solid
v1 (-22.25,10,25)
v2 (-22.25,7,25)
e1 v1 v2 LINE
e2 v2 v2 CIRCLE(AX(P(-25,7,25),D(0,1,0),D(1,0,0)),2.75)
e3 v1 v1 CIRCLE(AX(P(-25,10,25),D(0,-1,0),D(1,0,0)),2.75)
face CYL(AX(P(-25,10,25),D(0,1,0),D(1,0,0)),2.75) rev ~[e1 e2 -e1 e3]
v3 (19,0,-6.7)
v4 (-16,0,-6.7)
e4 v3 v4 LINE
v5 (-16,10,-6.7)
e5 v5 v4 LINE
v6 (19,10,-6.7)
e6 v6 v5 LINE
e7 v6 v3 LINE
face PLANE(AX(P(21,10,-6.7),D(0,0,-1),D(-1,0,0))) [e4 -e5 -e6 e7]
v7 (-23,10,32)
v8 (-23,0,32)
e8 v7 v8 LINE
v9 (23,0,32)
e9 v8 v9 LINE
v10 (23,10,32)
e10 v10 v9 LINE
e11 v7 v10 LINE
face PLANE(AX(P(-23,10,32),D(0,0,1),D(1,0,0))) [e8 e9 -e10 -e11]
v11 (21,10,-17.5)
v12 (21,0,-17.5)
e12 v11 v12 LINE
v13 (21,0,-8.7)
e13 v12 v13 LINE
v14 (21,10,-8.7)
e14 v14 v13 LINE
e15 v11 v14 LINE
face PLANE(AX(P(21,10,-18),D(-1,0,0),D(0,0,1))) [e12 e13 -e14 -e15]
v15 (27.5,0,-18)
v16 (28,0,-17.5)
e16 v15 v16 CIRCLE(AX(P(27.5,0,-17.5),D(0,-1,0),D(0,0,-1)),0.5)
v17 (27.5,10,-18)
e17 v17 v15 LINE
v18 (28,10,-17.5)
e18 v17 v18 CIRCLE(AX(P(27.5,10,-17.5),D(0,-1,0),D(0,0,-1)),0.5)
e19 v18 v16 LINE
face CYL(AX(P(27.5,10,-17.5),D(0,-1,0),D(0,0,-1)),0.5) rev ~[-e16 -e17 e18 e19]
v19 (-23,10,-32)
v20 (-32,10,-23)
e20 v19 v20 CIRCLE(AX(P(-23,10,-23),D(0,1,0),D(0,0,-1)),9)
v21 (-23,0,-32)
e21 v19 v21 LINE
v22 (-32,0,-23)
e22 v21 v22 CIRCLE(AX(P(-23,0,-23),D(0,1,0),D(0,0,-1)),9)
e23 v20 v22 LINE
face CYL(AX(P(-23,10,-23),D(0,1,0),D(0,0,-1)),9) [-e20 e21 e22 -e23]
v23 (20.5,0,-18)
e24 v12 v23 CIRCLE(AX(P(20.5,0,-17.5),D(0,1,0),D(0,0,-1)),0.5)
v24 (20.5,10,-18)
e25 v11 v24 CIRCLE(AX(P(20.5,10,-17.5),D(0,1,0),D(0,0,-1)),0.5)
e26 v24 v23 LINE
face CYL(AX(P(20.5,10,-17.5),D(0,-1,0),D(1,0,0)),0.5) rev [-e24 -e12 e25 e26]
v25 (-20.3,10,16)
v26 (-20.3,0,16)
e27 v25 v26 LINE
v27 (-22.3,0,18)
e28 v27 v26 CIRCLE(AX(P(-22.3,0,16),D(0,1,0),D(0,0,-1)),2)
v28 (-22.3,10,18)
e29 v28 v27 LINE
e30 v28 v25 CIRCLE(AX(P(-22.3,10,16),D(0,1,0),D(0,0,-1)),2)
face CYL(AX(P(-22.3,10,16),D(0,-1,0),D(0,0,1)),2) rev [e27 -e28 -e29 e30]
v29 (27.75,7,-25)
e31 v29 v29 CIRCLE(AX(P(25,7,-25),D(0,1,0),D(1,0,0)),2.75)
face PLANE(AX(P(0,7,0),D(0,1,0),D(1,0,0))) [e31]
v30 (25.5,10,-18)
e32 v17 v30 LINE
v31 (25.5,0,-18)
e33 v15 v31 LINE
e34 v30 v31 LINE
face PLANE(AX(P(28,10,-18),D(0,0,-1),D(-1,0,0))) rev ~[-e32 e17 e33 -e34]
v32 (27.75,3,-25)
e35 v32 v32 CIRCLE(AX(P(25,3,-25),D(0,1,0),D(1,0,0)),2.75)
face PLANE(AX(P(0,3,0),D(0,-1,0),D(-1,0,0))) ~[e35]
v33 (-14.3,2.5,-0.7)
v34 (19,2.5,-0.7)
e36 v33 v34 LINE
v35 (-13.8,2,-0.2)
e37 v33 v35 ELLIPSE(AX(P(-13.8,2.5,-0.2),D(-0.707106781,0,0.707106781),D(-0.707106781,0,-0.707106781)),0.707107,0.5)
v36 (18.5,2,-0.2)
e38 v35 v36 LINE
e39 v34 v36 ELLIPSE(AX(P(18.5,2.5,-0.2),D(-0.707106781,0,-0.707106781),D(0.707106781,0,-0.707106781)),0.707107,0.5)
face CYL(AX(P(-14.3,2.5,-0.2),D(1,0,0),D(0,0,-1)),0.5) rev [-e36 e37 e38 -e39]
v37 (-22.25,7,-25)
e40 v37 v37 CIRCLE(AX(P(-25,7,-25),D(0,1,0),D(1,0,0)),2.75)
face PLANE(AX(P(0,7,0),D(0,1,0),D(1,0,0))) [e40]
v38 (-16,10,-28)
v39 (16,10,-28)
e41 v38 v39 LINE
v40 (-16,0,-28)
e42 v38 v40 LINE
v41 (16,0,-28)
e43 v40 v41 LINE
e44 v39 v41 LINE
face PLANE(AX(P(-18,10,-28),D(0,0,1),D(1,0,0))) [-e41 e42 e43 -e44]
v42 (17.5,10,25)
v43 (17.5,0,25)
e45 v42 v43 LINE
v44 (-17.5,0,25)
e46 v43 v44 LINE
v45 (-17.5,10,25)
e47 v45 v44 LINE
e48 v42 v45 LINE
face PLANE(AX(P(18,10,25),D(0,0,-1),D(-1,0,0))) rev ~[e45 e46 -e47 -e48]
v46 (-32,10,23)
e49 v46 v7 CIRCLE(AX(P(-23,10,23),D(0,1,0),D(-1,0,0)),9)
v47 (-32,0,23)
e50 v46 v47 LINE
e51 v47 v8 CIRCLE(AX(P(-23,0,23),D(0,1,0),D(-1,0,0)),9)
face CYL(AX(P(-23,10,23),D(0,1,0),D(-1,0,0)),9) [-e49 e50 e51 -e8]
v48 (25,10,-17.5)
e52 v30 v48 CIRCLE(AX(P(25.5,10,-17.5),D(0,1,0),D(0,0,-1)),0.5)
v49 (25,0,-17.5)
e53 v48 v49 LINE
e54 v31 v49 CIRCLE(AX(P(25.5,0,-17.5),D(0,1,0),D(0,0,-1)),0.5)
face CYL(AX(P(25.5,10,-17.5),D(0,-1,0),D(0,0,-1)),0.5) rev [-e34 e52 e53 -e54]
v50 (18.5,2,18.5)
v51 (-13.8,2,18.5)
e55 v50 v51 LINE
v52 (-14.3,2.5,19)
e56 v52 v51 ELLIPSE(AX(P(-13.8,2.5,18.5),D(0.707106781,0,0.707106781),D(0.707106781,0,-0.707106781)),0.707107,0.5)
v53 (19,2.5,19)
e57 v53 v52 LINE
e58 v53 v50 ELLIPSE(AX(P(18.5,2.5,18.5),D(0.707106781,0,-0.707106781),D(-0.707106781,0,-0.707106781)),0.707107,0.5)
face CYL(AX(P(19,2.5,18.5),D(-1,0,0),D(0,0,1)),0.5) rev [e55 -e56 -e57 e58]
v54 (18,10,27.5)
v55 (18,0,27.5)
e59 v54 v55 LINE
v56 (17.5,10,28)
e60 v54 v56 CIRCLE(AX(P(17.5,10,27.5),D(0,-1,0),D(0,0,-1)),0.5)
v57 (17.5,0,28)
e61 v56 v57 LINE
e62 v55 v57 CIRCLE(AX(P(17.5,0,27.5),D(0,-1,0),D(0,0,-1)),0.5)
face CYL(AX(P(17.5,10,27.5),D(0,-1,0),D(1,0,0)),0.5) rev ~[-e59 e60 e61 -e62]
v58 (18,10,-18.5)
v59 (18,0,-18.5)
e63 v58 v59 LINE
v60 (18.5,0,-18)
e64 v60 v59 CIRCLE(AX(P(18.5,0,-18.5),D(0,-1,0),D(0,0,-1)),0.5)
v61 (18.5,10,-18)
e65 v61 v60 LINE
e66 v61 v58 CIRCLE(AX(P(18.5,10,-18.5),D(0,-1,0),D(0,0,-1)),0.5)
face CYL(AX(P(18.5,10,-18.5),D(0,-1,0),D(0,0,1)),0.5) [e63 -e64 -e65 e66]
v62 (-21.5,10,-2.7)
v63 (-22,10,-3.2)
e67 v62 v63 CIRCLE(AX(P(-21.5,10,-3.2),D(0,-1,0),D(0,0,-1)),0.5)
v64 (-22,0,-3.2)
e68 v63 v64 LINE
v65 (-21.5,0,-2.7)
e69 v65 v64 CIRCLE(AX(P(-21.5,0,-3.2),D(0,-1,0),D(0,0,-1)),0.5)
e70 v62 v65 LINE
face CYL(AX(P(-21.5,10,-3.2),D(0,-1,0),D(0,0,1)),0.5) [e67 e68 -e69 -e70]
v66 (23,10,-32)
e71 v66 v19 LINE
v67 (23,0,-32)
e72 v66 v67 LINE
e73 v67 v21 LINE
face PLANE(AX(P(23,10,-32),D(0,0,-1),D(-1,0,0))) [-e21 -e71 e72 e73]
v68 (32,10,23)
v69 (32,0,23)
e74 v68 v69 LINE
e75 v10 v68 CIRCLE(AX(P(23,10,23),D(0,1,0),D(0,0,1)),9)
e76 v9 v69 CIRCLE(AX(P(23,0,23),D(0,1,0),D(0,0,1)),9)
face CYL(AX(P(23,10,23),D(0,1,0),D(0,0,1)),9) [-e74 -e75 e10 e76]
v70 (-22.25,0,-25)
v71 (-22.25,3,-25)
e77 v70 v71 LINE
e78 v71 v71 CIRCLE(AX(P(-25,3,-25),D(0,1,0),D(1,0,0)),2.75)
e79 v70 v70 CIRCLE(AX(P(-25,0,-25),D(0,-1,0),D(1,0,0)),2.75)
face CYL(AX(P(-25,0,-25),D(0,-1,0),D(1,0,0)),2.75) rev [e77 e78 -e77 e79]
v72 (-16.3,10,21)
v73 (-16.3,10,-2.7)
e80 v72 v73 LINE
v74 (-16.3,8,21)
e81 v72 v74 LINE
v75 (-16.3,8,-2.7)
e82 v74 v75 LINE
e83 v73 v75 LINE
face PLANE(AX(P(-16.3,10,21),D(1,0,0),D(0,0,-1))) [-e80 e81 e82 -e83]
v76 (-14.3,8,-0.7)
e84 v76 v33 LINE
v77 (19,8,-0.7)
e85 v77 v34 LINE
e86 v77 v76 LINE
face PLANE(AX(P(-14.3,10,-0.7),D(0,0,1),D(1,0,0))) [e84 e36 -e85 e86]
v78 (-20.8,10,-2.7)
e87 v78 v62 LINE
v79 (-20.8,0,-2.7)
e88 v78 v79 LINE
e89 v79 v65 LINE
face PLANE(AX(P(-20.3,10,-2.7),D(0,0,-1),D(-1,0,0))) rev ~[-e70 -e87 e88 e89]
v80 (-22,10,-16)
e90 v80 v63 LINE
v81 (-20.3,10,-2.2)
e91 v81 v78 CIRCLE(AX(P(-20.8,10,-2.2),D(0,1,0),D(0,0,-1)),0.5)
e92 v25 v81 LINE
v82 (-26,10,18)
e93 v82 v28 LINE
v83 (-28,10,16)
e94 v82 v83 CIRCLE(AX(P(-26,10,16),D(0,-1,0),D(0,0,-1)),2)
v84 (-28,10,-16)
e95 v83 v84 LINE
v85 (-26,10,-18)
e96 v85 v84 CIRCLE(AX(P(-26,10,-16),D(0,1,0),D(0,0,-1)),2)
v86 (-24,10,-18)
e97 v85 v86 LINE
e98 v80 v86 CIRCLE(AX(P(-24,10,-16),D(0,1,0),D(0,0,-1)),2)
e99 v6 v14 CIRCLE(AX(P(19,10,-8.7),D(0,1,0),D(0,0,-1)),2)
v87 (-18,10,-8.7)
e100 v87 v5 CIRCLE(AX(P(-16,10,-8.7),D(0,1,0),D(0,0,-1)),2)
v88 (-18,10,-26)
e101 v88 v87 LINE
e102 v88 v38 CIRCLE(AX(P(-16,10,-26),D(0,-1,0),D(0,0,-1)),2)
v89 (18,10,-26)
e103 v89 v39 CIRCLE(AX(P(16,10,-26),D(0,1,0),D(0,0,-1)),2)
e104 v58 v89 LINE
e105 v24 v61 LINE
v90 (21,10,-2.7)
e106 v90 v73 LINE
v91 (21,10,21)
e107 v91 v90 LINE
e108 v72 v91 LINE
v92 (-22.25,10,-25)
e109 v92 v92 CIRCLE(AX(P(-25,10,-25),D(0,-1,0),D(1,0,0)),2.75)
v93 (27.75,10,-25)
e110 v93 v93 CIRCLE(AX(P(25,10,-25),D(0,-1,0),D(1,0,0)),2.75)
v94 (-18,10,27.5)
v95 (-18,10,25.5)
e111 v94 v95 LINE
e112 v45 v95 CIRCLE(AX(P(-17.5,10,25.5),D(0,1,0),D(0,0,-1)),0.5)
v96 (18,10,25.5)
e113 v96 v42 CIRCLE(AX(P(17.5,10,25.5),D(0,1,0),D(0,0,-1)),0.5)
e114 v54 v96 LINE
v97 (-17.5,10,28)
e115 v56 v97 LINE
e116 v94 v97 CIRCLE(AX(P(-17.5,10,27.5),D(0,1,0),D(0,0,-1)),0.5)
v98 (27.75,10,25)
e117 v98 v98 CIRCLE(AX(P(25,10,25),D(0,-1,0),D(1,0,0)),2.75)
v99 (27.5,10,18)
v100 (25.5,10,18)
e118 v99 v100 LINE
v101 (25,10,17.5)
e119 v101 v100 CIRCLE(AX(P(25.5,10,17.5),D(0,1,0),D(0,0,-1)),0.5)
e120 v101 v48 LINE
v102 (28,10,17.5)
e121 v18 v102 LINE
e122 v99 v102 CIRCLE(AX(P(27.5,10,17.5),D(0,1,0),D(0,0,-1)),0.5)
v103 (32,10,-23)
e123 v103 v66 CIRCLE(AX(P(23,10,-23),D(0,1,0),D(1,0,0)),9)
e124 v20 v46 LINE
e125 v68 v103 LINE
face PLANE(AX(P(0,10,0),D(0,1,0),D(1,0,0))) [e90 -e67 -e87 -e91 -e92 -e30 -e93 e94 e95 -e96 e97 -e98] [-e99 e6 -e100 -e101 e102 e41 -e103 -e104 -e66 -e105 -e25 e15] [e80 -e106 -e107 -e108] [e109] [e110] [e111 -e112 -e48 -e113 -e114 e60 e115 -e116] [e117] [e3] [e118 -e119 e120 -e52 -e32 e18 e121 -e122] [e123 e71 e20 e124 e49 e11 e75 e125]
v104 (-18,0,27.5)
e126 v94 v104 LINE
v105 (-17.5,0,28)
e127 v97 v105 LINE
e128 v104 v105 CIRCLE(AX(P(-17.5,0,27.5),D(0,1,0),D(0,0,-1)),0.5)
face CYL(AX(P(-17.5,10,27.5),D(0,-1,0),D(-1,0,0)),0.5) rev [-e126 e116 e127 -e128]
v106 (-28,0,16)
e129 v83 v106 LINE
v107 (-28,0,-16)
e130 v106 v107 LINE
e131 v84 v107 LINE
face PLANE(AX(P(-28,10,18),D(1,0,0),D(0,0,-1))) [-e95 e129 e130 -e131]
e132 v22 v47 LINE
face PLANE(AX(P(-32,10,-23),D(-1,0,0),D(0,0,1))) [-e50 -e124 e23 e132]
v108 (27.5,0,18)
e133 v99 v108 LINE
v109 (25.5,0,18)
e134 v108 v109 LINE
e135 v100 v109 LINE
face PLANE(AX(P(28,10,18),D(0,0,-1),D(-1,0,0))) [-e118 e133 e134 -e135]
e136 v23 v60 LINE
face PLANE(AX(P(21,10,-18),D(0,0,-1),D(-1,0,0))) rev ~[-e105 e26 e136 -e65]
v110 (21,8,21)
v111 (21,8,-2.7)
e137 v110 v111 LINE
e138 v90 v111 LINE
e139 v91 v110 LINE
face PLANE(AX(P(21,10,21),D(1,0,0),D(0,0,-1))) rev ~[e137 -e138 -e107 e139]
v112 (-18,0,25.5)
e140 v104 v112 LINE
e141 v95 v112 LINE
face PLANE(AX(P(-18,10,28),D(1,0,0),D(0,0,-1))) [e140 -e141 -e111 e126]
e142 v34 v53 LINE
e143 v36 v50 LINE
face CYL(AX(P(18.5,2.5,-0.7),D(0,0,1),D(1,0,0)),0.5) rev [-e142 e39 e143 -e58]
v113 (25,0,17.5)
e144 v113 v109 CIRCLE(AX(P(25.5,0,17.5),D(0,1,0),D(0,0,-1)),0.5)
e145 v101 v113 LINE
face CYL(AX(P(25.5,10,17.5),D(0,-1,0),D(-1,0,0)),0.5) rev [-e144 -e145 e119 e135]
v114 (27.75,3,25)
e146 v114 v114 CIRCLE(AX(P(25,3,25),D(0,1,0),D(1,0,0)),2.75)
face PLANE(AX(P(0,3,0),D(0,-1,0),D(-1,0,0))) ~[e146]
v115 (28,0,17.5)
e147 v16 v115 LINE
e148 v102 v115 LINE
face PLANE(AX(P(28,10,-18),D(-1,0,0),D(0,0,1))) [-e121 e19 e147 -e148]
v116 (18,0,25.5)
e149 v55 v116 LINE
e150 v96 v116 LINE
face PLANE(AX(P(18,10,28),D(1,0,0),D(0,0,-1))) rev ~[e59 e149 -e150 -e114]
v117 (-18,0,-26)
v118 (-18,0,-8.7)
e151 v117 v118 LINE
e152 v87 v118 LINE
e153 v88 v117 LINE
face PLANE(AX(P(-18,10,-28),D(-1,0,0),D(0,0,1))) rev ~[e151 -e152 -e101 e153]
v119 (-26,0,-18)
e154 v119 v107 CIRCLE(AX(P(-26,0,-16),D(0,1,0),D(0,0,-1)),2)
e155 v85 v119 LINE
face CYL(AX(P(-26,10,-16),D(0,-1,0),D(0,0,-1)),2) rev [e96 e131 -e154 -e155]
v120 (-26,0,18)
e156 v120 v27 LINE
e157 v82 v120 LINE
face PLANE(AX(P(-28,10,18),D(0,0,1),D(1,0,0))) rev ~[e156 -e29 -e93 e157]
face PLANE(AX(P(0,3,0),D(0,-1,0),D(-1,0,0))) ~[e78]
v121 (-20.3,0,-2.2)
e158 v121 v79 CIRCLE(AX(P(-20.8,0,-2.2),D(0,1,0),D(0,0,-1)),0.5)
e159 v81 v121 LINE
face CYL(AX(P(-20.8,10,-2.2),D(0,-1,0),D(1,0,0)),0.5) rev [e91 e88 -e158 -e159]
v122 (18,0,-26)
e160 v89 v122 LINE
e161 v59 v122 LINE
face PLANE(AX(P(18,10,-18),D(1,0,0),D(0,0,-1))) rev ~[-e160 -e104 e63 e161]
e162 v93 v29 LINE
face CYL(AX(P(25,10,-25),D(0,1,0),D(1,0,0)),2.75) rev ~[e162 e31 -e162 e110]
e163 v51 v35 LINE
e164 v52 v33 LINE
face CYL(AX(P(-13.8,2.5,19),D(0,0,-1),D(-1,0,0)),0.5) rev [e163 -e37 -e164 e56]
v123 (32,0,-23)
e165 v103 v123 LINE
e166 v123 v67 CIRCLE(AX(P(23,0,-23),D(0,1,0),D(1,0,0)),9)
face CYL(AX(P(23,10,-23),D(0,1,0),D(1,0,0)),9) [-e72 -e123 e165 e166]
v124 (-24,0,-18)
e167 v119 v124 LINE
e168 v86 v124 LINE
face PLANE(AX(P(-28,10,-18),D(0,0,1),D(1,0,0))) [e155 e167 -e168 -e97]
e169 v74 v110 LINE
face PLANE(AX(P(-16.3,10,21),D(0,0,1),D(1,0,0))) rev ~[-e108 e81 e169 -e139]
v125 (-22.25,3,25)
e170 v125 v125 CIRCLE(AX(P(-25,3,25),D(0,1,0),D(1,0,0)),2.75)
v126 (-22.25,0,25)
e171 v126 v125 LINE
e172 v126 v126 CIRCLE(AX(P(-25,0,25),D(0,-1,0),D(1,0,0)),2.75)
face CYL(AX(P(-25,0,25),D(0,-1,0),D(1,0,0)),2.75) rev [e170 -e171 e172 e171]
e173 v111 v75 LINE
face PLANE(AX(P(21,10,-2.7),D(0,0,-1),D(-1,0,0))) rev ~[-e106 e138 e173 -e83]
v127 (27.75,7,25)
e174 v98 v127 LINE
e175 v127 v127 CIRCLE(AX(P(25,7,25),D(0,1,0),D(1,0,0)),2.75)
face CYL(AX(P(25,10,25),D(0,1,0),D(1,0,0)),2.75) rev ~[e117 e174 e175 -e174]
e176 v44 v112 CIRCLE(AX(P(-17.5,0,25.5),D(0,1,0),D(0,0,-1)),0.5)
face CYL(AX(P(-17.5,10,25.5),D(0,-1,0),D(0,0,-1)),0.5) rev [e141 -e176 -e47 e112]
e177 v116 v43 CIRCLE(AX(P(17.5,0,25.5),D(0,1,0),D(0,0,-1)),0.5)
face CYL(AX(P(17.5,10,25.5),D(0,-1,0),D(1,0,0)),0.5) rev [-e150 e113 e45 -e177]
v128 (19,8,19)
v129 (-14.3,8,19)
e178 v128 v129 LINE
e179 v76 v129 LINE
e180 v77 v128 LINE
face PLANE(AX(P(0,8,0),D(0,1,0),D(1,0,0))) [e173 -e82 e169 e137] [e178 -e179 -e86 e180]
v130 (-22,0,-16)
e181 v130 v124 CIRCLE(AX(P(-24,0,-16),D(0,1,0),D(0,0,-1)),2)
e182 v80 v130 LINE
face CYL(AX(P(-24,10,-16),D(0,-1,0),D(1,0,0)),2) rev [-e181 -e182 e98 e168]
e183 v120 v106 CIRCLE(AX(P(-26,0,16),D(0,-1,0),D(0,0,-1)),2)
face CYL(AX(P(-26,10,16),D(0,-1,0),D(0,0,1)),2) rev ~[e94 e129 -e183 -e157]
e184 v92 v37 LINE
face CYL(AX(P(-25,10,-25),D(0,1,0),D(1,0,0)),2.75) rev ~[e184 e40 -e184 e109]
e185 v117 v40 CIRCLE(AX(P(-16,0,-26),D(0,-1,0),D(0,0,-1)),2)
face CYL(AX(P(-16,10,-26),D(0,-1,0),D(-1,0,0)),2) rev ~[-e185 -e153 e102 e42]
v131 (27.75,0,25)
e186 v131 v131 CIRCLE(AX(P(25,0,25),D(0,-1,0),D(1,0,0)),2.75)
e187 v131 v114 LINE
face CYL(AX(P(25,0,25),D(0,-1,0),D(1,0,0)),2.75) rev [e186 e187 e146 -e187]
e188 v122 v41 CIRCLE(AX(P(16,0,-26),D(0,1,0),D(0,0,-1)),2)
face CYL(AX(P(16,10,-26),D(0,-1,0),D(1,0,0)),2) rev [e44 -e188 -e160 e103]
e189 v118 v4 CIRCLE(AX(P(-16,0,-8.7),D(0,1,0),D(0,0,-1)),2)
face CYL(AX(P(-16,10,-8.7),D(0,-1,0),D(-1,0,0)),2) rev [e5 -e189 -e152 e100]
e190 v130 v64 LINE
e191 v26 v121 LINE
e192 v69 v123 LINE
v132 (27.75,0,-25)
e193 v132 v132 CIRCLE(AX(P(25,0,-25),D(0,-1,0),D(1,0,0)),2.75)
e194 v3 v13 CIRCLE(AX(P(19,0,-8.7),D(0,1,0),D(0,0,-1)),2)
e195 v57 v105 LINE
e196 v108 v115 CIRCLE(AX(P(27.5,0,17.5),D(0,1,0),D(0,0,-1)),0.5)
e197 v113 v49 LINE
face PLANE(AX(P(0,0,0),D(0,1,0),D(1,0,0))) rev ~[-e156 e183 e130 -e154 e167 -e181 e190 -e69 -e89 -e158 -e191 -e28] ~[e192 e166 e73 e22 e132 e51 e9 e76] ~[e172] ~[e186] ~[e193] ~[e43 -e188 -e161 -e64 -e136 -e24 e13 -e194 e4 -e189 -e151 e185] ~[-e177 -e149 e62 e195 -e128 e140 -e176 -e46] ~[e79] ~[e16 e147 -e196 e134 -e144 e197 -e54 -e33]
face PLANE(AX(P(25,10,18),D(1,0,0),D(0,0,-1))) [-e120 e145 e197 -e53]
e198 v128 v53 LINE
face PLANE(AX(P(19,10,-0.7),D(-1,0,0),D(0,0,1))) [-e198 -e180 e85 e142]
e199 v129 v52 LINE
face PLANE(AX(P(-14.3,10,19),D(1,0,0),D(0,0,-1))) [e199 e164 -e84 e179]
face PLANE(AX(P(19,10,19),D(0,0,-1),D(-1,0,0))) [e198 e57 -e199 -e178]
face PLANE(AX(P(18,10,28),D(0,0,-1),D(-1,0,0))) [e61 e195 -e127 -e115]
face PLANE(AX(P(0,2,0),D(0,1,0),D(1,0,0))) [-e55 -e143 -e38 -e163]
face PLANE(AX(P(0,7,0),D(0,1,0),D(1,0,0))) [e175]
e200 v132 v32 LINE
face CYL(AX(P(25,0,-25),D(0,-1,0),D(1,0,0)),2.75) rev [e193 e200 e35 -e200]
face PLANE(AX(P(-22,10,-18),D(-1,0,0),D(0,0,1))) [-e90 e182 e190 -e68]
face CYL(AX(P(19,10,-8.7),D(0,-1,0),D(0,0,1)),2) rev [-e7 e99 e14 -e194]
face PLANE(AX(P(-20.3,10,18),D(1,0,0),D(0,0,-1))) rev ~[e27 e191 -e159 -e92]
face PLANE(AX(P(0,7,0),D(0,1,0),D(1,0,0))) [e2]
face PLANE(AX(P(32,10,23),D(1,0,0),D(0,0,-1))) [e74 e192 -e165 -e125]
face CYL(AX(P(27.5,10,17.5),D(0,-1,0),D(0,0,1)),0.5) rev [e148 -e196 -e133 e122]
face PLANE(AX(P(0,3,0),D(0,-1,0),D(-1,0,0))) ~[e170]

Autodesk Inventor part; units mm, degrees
ref_plane "YZ Plane" through (0, 0, 0) normal (1, 0, 0) x (0, 1, 0)
ref_plane "XZ Plane" through (0, 0, 0) normal (0, 1, 0) x (-1, 0, 0)
sketch "Sketch1" plane through (0, 0, 0) normal (0, 1, 0) x (-1, 0, 0)
  line L0 (30, 30) -> (-30, 30)
  line L1 (-30, 30) -> (-30, -30)
  line L2 (-30, -30) -> (30, -30)
  line L3 (30, -30) -> (30, 30)
  line L4 (30, 30) -> (-30, -30) construction
  line L5 (-30, 30) -> (30, -30) construction
  point P0 (0, 0)
  dimension "d0" = 60
  dimension "d1" = 60
extrude "Extrusion1" add sketch "Sketch1" along normal blind 10
fillet "Fillet1" radius 7 4 edges at (30, 5, 30) (30, 5, -30) (-30, 5, 30) (-30, 5, -30)
sketch "Sketch2" plane through (0, 10, 0) normal (0, 1, 0) x (1, 0, 0)
  line L0 (-30, 30) -> (30, 30)
  line L1 (30, 30) -> (30, -30)
  line L2 (30, -30) -> (-30, -30)
  line L3 (-30, -30) -> (-30, 30)
  line L4 (-30, 30) -> (30, -30) construction
  line L5 (30, 30) -> (-30, -30) construction
  line L6 (25, -25) -> (25, 25)
  line L7 (25, 25) -> (-25, 25)
  line L8 (-25, 25) -> (-25, -25)
  line L9 (-25, -25) -> (25, -25)
  circle A0 centre (25, -25) radius 2.75
  circle A1 centre (-25, -25) radius 2.75
  circle A2 centre (25, 25) radius 2.75
  circle A3 centre (-25, 25) radius 2.75
  point P0 (0, 0)
  dimension "d5" = 5
  dimension "d6" = 5.5
  dimension "d7" = 5.5
  dimension "d8" = 5.5
  dimension "d9" = 5.5
extrude "Extrusion2" cut sketch "Sketch2" against normal blind 3 contours L9 A0 L6 | L6 A0 L9 | A2 L7 L6 | L6 L7 A2 | A1 L8 L9 | L9 L8 A1 | A3 L8 L7 | L7 L8 A3
sketch "Sketch7" plane through (0, 10, 0) normal (0, 1, 0) x (1, 0, 0)
  line L0 (-23, 30) -> (23, 30)
  line L1 (30, 23) -> (30, -23)
  line L2 (23, -30) -> (-23, -30)
  line L3 (-30, -23) -> (-30, 23)
  line L4 (-30, 30) -> (30, -30) construction
  line L5 (30, 30) -> (-30, -30) construction
  arc A0 (-23, 30) -> (-30, 23) centre (-23, 23) ccw
  arc A1 (-30, -23) -> (-23, -30) centre (-23, -23) ccw
  arc A2 (23, -30) -> (30, -23) centre (23, -23) ccw
  arc A3 (30, 23) -> (23, 30) centre (23, 23) ccw
  line L6 (23, 32) -> (-23, 32)
  arc A4 (-23, 32) -> (-32, 23) centre (-23, 23) ccw
  line L7 (-32, 23) -> (-32, -23)
  arc A5 (-32, -23) -> (-23, -32) centre (-23, -23) ccw
  line L8 (-23, -32) -> (23, -32)
  arc A6 (23, -32) -> (32, -23) centre (23, -23) ccw
  line L9 (32, -23) -> (32, 23)
  arc A7 (32, 23) -> (23, 32) centre (23, 23) ccw
  point P0 (0, 0)
  dimension "d47" = 7
  dimension "d48" = 2
extrude "Extrusion6" add sketch "Sketch7" against normal blind 10
sketch "Sketch14" plane through (0, 10, 0) normal (0, 1, 0) x (1, 0, 0)
  line L0 (-25, 25) -> (25, 25)
  line L1 (25, 25) -> (25, -25)
  line L2 (25, -25) -> (-25, -25)
  line L3 (-25, -25) -> (-25, 25)
  line L4 (-25, 25) -> (25, -25) construction
  line L5 (25, 25) -> (-25, -25) construction
  line L6 (21, -21) -> (21, 2.7)
  line L7 (21, 21) -> (-21, 21)
  line L8 (-21, 21) -> (-21, -21)
  line L9 (-16.3, -21) -> (21, -21)
  line L10 (-16.3, -21) -> (-16.3, 2.7)
  line L11 (21, 2.7) -> (-16.3, 2.7)
  line L12 (19, 0.7) -> (-14.3, 0.7)
  line L13 (-14.3, 0.7) -> (-14.3, -19)
  line L14 (-19, -19) -> (-19, 19)
  line L15 (-19, 19) -> (19, 19)
  line L16 (19, -19) -> (-14.3, -19)
  line L17 (19, 0.7) -> (19, -19)
  point P0 (0, 0)
  dimension "d95" = 50
  dimension "d96" = 50
  dimension "d97" = 4
  dimension "d98" = 37.3
  dimension "d99" = 23.7
  dimension "d100" = 2
extrude "Extrusion12" cut sketch "Sketch14" against normal blind 2 contours L9 L10 L11 L6
sketch "Sketch15" plane through (0, 10, 0) normal (0, 1, 0) x (1, 0, 0)
  line L0 (-14.3, 0.7) -> (19, 0.7)
  line L1 (19, 0.7) -> (19, -19)
  line L2 (19, -19) -> (-14.3, -19)
  line L3 (-14.3, -19) -> (-14.3, 0.7)
  point P0 (0, 0)
extrude "Extrusion13" cut sketch "Sketch15" against normal blind 8
sketch "Sketch16" plane through (0, 10, 0) normal (0, 1, 0) x (1, 0, 0)
  line L0 (23, 32) -> (-23, 32) projected
  line L1 (-32, 23) -> (-32, -23) projected
  line L2 (32, -23) -> (32, 23) projected
  line L3 (-18, 28) -> (18, 28)
  line L4 (-16.3, 2.7) -> (21, 2.7) projected
  line L5 (-18, 28) -> (-18, 6.7)
  line L6 (-18, 6.7) -> (18, 6.7)
  line L7 (18, 18) -> (18, 28)
  line L8 (-23, -32) -> (23, -32) projected
  line L9 (-16.3, -21) -> (-16.3, 2.7) projected
  line L10 (-28, -18) -> (-20.3, -18)
  line L11 (-20.3, -18) -> (-20.3, 2.7)
  line L12 (-28, -18) -> (-28, 18)
  line L13 (-20.3, 2.7) -> (-22, 2.7)
  line L14 (-22, 2.7) -> (-22, 6.7)
  line L15 (-28, 18) -> (-22, 18)
  line L16 (-22, 18) -> (-22, 6.7)
  line L17 (21, -21) -> (-16.3, -21) projected
  line L18 (18, -28) -> (18, -25)
  line L19 (18, -25) -> (-18, -25)
  line L20 (18, -28) -> (-18, -28)
  line L21 (-18, -28) -> (-18, -25)
  line L22 (21, 2.7) -> (21, -21) projected
  line L23 (28, 18) -> (28, -18)
  line L24 (28, -18) -> (25, -18)
  line L25 (25, -18) -> (25, 18)
  line L26 (28, 18) -> (25, 18)
  line L27 (21, 18) -> (21, 6.7)
  line L28 (21, 6.7) -> (18, 6.7)
  line L29 (21, 18) -> (18, 18)
  point P0 (0, 0)
  dimension "d106" = 4
  dimension "d107" = 4
  dimension "d108" = 14
  dimension "d109" = 14
  dimension "d110" = 4
  dimension "d111" = 4
  dimension "d112" = 4
  dimension "d113" = 14
  dimension "d114" = 4
  dimension "d115" = 14
  dimension "d116" = 4
  dimension "d117" = 4
  dimension "d118" = 4
  dimension "d119" = 4
  dimension "d120" = 4
  dimension "d121" = 14
  dimension "d122" = 4
  dimension "d123" = 14
  dimension "d124" = 4
  dimension "d125" = 14
  dimension "d126" = 4
  dimension "d127" = 4
  dimension "d128" = 14
  dimension "d129" = 4
extrude "Extrusion14" cut sketch "Sketch16" against normal through all contours L3 L7 L29 L27 L28 L6 L5 | L12 L15 L16 L14 L13 L11 L10 | L20 L21 L19 L18 | L23 L24 L25 L26
fillet "Fillet4" radius 2 8 edges at (18, 5, -28) (-22, 5, -18) (-18, 5, -28) (-28, 5, -18) (-28, 5, 18) (-18, 5, -6.7) (-20.3, 5, 18) (21, 5, -6.7)
fillet "Fillet4" radius 0.5 16 edges at (28, 5, 18) (18, 5, 28) (28, 5, -18) (21, 5, -18) (18, 5, -18) (18, 5, 25) (-20.3, 5, -2.7) (-22, 5, -2.7) (25, 5, -18) (-18, 5, 25) (-18, 5, 28) (25, 5, 18) (-14.3, 2, 9.15) (2.35, 2, -0.7) (2.35, 2, 19) (19, 2, 9.15)
ref_plane "Work Plane3" through (0, 5, 0) normal (0, 1, 0) x (1, 0, 0)
mirror "Mirror3" about plane through (0, 5, 0) normal (0, 1, 0) of "Extrusion2"
properties part number "14 pin short holder"
